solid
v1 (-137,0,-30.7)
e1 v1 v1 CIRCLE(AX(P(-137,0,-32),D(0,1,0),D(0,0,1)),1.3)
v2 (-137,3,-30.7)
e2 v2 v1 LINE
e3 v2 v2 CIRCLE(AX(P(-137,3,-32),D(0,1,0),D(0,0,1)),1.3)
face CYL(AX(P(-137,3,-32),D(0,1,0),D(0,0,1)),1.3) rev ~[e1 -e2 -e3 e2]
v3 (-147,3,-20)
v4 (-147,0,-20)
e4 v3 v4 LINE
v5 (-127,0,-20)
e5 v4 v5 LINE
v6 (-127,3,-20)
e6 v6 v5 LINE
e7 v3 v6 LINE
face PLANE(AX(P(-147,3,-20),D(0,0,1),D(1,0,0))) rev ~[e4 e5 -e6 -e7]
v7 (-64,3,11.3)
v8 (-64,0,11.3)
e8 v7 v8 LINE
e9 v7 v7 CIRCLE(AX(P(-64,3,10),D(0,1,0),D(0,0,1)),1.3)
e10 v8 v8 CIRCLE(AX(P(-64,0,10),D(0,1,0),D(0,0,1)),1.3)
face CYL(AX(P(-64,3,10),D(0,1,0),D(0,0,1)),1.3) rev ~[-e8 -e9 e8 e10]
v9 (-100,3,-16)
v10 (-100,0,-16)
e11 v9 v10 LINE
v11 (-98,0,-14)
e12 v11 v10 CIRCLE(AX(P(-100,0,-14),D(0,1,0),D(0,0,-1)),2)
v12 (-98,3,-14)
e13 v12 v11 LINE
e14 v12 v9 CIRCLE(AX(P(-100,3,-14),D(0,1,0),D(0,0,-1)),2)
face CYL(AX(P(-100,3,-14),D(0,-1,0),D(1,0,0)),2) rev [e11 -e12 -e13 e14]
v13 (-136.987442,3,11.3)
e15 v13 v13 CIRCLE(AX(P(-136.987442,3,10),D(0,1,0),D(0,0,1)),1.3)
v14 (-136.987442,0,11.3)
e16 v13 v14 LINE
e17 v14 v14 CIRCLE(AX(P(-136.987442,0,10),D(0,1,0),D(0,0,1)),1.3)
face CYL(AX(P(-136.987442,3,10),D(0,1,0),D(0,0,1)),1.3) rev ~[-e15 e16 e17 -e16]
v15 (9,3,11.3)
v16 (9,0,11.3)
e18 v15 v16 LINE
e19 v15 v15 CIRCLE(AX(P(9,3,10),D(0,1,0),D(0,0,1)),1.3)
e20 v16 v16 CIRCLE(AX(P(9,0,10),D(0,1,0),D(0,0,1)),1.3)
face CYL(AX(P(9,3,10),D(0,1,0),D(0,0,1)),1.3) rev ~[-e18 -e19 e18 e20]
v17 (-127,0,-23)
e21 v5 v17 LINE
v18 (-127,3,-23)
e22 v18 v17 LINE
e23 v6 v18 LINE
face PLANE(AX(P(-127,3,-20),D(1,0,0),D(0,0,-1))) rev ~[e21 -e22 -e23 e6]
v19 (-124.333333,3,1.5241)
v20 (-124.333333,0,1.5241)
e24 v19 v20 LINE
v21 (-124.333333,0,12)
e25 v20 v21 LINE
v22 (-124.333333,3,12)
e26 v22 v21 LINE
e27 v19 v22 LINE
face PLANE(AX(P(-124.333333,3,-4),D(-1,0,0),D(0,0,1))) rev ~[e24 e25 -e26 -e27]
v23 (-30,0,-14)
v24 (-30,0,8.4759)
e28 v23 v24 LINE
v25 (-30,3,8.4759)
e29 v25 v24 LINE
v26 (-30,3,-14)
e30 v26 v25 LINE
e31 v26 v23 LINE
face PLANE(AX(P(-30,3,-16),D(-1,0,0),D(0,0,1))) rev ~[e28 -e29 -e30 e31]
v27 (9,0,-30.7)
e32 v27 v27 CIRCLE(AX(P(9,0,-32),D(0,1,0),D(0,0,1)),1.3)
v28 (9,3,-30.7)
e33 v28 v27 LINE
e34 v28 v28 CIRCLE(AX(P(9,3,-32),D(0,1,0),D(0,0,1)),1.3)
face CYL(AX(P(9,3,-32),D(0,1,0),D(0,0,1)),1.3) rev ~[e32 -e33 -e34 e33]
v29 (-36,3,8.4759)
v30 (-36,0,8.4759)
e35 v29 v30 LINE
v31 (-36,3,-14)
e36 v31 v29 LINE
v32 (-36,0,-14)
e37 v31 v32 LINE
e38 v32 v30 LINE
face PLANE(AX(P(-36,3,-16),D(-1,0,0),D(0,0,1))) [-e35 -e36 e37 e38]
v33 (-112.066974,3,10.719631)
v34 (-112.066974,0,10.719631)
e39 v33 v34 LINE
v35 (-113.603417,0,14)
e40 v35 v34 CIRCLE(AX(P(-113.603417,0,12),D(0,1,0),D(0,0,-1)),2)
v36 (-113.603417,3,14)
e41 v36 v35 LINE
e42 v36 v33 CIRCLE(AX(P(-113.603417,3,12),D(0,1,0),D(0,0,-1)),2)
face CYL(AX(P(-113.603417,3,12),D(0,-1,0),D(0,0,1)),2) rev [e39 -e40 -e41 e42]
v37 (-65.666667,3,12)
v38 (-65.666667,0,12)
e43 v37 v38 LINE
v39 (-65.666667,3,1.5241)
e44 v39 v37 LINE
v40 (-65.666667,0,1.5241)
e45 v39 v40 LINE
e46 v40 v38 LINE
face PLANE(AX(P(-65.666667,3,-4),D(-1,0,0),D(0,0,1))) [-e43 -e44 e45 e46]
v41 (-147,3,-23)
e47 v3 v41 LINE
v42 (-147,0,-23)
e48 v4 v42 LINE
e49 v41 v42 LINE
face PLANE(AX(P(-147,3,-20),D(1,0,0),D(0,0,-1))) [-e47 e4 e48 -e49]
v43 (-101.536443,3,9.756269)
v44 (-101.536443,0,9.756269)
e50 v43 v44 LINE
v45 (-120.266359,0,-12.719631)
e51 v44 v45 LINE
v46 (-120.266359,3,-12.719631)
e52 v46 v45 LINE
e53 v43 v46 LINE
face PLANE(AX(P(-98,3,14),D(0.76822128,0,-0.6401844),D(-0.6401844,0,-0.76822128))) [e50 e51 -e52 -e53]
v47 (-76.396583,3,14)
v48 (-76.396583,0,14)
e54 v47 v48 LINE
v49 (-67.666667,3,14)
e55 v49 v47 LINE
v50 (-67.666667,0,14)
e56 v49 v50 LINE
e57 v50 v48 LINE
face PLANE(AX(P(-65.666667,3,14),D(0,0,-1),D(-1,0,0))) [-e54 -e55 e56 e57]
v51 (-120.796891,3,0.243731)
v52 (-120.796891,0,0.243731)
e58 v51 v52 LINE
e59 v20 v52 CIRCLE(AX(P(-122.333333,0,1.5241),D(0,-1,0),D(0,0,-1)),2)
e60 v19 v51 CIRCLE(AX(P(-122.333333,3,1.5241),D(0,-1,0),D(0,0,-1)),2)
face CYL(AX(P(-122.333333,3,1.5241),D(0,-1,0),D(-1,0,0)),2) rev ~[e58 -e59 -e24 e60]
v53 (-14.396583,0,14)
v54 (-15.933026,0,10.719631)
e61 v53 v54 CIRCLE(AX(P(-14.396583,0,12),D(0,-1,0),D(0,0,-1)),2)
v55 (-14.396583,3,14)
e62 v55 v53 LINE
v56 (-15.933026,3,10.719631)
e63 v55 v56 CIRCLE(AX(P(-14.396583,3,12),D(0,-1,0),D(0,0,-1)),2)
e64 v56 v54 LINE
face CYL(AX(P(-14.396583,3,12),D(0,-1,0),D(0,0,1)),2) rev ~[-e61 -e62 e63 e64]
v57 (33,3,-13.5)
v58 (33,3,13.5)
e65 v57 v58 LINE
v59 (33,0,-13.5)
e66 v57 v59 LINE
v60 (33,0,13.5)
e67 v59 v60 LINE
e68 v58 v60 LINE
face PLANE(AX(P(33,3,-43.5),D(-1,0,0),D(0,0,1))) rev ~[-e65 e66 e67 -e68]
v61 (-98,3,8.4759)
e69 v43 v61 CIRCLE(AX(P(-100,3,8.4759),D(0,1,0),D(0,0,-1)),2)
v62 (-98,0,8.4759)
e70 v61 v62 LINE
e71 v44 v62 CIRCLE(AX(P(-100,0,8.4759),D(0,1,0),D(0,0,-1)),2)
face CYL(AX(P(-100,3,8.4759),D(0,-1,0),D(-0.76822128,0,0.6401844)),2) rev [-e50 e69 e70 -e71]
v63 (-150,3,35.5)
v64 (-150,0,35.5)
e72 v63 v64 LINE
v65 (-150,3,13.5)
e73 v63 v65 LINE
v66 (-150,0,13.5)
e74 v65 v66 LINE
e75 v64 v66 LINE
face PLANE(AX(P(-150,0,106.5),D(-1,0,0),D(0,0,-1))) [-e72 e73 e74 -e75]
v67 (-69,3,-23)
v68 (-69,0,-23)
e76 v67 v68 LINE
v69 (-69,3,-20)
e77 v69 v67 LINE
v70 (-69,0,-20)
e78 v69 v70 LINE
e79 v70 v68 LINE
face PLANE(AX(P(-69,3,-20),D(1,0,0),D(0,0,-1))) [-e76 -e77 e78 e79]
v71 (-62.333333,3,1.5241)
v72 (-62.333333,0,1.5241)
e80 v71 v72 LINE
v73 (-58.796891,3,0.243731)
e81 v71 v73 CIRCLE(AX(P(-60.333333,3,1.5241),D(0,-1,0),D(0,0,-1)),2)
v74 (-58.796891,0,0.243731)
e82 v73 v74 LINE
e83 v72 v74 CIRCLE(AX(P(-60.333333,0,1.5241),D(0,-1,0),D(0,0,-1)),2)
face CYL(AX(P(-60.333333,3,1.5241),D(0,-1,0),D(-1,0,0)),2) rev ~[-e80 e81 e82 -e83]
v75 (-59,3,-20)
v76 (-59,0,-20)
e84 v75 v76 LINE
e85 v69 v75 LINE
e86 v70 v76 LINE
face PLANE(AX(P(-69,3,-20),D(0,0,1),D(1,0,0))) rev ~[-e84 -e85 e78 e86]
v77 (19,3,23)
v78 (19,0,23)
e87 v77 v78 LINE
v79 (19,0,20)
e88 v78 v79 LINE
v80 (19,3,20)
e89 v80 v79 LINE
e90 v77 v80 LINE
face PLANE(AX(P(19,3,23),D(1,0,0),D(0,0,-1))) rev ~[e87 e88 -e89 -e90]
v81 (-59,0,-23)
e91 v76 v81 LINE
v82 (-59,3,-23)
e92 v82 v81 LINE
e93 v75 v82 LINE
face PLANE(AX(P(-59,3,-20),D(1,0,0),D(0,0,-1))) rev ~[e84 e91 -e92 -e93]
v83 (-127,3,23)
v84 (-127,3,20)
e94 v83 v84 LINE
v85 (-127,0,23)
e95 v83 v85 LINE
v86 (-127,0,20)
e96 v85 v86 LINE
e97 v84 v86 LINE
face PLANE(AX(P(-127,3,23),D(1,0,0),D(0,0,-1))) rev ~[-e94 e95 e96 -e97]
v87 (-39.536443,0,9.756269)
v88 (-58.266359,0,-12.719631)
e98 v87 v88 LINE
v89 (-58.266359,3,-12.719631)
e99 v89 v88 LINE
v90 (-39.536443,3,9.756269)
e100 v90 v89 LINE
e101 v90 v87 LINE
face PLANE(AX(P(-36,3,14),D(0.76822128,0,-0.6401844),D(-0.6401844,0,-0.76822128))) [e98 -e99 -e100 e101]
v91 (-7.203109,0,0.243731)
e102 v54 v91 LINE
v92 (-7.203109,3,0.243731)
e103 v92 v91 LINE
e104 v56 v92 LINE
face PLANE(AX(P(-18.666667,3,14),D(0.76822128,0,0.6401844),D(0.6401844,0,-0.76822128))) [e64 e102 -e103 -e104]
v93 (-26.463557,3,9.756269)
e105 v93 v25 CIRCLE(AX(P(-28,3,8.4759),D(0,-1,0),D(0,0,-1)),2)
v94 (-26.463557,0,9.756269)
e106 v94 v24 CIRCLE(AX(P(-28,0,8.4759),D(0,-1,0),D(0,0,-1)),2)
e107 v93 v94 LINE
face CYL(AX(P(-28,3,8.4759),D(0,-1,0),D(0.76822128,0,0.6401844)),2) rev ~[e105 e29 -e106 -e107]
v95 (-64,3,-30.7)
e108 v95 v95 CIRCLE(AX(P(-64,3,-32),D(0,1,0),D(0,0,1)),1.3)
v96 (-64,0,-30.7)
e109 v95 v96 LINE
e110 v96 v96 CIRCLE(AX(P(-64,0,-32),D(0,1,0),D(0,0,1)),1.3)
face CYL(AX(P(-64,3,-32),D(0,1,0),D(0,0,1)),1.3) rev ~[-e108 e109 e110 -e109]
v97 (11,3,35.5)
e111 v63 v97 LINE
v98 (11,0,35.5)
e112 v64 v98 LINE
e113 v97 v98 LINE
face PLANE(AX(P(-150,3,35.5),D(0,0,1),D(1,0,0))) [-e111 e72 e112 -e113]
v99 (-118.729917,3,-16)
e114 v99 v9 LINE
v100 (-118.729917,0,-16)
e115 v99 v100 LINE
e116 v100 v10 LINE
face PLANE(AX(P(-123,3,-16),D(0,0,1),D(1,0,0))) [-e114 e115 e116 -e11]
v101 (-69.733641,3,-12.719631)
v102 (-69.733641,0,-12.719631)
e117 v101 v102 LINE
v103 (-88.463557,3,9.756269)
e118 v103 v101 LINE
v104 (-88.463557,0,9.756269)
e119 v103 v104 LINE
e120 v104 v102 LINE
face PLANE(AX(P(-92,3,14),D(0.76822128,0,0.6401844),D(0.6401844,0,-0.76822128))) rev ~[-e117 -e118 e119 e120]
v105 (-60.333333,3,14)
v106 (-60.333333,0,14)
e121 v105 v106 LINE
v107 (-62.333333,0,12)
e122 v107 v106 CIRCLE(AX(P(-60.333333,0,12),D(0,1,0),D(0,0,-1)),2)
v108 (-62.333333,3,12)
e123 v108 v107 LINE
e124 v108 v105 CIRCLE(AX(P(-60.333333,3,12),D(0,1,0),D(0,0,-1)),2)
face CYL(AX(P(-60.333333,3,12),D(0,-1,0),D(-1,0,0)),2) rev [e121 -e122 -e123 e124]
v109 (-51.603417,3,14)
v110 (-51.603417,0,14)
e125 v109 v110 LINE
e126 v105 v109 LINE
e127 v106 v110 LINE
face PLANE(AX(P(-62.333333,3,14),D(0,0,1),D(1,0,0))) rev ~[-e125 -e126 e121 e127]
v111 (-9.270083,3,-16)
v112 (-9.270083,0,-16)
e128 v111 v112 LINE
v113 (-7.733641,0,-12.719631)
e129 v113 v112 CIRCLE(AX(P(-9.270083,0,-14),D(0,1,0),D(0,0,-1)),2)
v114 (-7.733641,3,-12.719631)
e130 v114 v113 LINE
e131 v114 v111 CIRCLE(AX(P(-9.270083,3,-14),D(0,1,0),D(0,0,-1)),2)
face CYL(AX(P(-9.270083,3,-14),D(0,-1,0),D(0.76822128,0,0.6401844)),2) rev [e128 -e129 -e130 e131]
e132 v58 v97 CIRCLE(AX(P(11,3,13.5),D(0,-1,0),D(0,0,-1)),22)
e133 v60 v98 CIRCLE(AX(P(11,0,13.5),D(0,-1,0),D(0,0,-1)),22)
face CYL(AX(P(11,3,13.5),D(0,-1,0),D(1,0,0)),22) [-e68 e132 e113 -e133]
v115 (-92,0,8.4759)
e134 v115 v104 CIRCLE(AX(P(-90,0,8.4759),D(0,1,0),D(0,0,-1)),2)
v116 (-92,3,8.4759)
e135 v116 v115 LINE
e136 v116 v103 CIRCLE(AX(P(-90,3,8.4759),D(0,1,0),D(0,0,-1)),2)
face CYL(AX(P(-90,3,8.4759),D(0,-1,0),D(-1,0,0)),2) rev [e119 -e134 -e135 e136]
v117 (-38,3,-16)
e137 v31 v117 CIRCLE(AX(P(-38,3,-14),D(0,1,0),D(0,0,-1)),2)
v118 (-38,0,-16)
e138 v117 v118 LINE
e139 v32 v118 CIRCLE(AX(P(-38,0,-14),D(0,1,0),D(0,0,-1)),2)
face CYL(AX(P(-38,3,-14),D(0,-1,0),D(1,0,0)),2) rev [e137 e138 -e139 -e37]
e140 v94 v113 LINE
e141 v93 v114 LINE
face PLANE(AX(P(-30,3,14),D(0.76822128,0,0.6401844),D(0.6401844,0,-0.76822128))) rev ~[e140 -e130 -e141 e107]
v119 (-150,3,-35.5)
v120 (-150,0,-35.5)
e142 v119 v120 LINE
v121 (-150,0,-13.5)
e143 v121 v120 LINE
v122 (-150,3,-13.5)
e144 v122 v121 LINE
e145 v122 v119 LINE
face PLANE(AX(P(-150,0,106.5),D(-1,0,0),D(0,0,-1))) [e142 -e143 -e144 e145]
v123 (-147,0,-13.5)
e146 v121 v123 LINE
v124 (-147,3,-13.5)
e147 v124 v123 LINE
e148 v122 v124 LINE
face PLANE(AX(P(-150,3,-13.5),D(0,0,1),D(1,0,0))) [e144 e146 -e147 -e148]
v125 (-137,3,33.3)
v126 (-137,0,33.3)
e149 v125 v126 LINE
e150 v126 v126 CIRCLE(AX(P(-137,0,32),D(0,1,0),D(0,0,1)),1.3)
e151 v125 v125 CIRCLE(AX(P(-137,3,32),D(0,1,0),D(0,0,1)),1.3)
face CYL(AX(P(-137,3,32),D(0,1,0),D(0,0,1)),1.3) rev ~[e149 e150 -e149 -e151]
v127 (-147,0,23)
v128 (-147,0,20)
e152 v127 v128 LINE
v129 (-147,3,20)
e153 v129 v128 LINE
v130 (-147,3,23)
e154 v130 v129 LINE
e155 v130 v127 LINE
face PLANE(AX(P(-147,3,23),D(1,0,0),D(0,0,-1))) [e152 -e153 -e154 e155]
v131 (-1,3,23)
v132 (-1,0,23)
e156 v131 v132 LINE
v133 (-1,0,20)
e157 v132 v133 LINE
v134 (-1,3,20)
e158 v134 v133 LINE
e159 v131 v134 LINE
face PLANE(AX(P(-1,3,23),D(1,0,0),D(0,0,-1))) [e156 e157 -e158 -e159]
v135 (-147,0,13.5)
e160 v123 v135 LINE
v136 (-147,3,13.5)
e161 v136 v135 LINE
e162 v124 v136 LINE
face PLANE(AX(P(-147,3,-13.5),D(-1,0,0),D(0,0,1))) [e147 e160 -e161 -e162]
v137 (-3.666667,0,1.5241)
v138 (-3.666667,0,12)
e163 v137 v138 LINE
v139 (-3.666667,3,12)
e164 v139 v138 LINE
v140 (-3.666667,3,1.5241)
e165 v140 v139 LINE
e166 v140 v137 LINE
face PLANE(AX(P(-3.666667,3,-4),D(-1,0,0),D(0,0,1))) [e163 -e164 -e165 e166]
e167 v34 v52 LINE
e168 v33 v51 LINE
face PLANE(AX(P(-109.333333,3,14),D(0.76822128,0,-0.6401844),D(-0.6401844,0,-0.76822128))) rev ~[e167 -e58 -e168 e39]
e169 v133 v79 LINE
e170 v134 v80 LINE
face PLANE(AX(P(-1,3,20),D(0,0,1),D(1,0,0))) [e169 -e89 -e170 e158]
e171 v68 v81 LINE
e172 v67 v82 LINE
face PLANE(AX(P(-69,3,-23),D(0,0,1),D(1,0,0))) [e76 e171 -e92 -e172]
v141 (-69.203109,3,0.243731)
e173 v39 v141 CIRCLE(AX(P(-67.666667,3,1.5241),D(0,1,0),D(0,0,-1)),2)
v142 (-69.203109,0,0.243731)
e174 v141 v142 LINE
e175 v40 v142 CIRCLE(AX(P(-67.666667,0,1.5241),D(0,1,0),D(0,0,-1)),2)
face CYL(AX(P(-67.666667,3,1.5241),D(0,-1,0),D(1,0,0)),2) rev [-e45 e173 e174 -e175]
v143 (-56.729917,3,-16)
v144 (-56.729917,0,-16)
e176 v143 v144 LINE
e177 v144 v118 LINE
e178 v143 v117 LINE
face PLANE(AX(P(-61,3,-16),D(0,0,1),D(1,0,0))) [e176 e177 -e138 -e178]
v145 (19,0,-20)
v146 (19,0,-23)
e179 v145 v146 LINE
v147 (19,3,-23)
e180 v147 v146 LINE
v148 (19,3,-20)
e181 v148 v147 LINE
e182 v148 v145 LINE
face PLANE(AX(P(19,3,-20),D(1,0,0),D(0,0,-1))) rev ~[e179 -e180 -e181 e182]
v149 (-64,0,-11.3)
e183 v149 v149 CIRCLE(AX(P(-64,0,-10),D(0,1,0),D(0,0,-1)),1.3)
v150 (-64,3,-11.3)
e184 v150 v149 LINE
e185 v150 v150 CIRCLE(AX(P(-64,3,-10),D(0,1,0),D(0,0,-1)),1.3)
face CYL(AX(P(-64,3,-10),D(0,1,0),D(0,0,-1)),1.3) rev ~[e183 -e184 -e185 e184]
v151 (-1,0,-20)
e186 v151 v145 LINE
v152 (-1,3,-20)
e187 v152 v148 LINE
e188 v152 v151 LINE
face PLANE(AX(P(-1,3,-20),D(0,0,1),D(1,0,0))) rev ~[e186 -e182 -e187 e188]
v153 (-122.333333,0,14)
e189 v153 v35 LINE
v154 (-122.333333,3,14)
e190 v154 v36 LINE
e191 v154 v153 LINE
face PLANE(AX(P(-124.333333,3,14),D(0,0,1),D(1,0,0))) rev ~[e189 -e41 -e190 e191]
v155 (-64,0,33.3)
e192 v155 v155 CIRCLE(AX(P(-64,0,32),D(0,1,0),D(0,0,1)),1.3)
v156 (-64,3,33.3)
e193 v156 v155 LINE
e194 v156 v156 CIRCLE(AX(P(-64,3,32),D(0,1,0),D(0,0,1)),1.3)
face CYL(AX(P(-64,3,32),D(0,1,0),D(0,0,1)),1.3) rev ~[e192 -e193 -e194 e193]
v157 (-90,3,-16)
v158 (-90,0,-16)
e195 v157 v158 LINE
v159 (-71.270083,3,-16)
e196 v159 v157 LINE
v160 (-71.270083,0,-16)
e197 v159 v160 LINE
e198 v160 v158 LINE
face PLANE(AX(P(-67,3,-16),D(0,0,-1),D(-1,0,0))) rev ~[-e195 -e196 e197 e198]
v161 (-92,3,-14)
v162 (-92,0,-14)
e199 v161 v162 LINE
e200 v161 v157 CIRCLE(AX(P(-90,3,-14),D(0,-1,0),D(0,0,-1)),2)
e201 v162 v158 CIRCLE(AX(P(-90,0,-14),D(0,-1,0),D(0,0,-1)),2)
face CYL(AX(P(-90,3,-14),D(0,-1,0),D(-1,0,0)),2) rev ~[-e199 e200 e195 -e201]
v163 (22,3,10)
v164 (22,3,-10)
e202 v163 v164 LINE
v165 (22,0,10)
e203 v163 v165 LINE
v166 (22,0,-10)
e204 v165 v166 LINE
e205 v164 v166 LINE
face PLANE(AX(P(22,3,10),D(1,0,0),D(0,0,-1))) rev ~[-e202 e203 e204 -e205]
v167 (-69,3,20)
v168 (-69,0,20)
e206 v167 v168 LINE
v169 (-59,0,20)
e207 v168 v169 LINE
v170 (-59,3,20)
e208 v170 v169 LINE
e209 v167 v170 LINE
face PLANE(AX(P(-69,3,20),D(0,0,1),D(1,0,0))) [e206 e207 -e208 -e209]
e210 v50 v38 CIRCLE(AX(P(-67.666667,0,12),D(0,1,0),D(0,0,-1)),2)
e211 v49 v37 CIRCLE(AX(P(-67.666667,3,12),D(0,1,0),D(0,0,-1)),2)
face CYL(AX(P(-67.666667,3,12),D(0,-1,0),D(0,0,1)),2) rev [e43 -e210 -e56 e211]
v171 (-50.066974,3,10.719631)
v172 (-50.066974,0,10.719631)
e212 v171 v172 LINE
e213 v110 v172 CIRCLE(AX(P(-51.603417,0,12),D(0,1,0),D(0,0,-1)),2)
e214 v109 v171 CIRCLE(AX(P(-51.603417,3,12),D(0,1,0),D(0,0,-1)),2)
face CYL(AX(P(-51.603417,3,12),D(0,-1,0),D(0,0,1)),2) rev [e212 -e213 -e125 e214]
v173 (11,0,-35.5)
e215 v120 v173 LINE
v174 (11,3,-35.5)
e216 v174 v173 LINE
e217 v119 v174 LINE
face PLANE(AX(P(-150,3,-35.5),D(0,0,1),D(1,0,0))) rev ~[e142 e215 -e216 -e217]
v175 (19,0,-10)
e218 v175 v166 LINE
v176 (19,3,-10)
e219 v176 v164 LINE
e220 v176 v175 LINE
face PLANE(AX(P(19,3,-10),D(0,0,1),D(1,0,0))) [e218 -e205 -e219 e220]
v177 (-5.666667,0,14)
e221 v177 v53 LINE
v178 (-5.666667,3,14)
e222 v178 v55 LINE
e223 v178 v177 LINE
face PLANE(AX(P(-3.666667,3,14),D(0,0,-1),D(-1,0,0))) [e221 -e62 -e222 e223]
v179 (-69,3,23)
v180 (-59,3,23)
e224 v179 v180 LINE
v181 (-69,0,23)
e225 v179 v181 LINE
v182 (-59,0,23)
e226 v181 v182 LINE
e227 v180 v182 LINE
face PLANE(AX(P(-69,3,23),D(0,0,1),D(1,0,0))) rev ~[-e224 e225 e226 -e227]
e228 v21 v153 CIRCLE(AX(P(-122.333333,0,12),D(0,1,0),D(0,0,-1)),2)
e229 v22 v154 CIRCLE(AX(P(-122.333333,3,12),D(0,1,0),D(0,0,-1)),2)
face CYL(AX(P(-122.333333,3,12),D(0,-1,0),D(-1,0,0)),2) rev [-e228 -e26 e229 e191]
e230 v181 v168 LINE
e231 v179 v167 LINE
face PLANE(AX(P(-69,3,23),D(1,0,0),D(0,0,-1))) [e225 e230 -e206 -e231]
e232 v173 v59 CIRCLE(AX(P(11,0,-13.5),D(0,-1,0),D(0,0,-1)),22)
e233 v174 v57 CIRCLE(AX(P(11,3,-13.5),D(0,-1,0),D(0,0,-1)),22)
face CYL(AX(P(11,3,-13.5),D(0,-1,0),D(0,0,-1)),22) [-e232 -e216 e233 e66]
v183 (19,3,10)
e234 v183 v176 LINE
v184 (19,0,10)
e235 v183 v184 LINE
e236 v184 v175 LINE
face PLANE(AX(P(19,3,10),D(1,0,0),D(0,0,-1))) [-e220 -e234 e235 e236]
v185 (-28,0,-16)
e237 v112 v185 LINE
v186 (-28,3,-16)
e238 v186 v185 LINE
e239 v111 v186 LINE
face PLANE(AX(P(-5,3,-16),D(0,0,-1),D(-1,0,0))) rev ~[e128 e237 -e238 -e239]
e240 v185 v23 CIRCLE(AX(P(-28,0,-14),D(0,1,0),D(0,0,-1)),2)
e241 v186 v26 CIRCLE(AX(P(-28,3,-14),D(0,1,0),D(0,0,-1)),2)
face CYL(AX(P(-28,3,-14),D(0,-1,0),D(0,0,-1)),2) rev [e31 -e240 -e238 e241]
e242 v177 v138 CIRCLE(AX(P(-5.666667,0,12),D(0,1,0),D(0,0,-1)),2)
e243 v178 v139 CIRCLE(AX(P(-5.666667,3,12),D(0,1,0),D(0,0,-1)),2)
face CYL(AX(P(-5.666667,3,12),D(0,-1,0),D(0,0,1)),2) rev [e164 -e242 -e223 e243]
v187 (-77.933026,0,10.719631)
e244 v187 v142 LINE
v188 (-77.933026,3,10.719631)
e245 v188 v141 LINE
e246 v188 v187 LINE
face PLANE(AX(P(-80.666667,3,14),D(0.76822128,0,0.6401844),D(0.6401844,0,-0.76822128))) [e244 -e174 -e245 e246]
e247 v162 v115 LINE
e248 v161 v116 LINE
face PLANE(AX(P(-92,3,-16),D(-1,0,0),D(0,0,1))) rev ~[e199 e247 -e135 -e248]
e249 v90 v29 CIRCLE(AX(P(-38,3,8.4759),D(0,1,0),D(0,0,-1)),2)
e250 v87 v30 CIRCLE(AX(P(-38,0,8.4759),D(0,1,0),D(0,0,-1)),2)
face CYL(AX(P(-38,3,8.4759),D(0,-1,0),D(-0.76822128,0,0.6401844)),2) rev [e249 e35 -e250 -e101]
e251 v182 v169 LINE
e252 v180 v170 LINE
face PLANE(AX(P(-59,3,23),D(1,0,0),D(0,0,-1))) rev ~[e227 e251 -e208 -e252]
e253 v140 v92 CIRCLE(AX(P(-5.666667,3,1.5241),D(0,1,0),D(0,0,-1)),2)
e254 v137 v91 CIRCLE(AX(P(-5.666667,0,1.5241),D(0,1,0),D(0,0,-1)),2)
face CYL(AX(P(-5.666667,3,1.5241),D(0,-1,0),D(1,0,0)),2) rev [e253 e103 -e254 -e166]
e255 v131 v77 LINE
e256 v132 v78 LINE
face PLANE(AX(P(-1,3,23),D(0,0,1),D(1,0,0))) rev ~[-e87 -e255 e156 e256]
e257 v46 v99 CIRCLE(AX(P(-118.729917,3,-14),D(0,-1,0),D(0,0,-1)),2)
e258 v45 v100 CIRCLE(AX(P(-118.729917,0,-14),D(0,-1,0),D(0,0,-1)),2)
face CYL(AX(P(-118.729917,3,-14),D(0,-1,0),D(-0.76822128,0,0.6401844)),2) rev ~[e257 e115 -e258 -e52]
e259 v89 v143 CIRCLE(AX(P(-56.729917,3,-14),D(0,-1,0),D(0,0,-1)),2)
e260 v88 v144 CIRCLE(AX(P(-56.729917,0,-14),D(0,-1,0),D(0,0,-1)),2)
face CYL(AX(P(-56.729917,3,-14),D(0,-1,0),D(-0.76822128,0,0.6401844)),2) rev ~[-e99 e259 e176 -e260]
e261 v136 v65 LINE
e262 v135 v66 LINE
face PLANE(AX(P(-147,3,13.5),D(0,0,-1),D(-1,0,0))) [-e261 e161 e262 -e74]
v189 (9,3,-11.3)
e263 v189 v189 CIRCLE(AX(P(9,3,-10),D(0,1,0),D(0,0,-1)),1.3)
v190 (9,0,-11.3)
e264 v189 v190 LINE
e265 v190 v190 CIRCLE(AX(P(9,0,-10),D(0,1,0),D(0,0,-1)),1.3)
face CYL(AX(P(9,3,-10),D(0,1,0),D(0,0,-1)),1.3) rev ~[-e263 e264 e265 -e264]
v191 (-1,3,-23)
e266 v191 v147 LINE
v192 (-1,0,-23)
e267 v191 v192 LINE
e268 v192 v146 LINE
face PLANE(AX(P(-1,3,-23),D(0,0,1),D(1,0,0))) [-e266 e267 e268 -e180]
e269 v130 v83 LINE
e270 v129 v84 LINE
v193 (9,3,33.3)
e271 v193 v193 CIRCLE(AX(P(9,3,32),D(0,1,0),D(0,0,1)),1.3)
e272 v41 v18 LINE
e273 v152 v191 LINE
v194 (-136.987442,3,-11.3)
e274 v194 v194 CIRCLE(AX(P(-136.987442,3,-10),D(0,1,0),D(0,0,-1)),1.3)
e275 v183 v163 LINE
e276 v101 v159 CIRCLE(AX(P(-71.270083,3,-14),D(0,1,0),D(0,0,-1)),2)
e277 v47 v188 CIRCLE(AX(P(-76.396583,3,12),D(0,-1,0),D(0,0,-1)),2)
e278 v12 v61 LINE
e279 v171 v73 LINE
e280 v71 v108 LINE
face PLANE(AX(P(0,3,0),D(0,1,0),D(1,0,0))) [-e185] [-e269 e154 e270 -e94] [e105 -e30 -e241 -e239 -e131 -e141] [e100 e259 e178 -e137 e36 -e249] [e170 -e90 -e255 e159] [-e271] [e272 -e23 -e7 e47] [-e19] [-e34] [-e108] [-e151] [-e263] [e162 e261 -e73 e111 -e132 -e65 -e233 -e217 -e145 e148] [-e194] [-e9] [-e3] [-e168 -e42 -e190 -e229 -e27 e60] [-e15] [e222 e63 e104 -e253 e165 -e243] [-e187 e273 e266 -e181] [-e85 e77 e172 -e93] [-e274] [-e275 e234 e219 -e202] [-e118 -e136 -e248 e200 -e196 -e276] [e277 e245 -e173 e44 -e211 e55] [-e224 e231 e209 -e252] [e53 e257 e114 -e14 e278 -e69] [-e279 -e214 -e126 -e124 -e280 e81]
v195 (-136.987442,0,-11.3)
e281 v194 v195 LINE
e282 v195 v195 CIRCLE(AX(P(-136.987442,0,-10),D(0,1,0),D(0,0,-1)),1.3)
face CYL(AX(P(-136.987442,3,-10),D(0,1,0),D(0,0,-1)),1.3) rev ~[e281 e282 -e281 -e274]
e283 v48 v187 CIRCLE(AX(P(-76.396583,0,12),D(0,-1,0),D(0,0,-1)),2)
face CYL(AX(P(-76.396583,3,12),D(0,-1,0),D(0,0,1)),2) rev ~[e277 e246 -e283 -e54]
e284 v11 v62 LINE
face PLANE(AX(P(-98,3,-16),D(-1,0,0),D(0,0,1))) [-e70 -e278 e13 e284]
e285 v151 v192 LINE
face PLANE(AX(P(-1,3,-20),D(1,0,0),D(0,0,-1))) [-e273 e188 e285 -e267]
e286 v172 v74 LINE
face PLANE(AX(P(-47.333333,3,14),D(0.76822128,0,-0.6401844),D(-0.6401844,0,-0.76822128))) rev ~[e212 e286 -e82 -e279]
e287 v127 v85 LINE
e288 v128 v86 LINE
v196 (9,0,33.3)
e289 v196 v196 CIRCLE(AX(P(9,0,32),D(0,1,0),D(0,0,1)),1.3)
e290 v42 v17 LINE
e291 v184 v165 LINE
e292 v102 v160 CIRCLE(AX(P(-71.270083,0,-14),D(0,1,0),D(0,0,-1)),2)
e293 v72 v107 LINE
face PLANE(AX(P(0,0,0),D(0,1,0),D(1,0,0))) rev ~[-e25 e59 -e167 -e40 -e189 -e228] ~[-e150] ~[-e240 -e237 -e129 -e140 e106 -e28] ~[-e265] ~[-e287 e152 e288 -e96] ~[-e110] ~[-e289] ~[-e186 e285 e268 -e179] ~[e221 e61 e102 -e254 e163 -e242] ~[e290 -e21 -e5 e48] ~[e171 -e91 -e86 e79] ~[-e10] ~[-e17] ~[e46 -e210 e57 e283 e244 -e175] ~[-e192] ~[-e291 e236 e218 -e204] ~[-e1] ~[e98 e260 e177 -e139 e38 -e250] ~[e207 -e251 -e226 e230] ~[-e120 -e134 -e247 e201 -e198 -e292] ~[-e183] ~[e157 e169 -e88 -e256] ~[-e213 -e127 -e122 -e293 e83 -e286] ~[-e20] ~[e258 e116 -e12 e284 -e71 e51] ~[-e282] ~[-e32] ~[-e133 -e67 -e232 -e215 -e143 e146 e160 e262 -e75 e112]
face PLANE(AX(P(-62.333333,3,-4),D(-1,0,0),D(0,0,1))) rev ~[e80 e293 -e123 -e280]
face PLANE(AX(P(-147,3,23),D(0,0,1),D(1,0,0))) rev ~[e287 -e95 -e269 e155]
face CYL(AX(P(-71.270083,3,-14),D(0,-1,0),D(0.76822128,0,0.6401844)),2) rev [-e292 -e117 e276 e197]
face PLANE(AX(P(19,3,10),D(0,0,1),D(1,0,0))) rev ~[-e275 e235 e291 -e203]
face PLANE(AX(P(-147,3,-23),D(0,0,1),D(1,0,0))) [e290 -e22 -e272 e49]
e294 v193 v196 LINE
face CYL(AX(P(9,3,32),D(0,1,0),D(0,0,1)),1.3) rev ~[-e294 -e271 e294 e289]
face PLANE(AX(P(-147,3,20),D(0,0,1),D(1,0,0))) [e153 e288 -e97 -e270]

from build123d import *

# Parameters (mm, degrees)
SKETCH1_W            = 300
SKETCH1_H            = 213
BOSS_EXTRUDE1_DEPTH  = 3
SKETCH2_W            = 3
SKETCH2_H            = 21
CUT_EXTRUDE1_DEPTH   = 184.987091939
SKETCH3_W            = 20
SKETCH3_H            = 3
SKETCH3_W_2          = 10
CUT_EXTRUDE2_DEPTH   = 184.987091939
SKETCH4_W            = 3
SKETCH4_H            = 20
CUT_EXTRUDE3_DEPTH   = 184.987091939
SKETCH6_R            = 1.3
CUT_EXTRUDE4_DEPTH   = 184.987091939
CUT_EXTRUDE5_DEPTH   = 184.987091939
FILLET1_R            = 4
FILLET1_OF_MIRROR1_R = 4
SKETCH8_R            = 1.3
CUT_EXTRUDE6_DEPTH   = 184.987091939
CUT_EXTRUDE7_DEPTH   = 184.987091939
CUT_EXTRUDE8_DEPTH   = 157.208994619
FILLET2_R            = 2
SKETCH11_W           = 183
SKETCH11_H           = 8
CUT_EXTRUDE9_DEPTH   = 157.208994619
FILLET3_R            = 22


with BuildPart() as part:
    # Sketch1 → Boss-Extrude1 (new body)
    with BuildSketch(Plane(origin=(0, 0, 0), x_dir=(1, 0, 0), z_dir=(0, 1, 0))):
        Rectangle(SKETCH1_W, SKETCH1_H)
    extrude(amount=BOSS_EXTRUDE1_DEPTH)

    # Sketch2 → Cut-Extrude1 (cut, through all)
    with BuildSketch(Plane(origin=(0, 3, 0), x_dir=(1, 0, 0), z_dir=(0, 1, 0))):
        with Locations((-148.5, 96)):
            Rectangle(SKETCH2_W, SKETCH2_H)
        Polygon((-150, -13.5), (-150, 0), (-150, 13.5), (-147, 13.5), (-147, -13.5), align=None)
        with Locations((-148.5, 54)):
            Rectangle(SKETCH2_W, SKETCH2_H)
        with Locations((-148.5, -54)):
            Rectangle(SKETCH2_W, SKETCH2_H)
        with Locations((-148.5, -96)):
            Rectangle(SKETCH2_W, SKETCH2_H)
    extrude(amount=-CUT_EXTRUDE1_DEPTH, mode=Mode.SUBTRACT)

    # Sketch3 → Cut-Extrude2 (cut, through all)
    with BuildSketch(Plane(origin=(0, 3, 0), x_dir=(1, 0, 0), z_dir=(0, 1, 0))):
        with Locations((-137, 21.5)):
            Rectangle(SKETCH3_W, SKETCH3_H)
        with Locations((-64, 21.5)):
            Rectangle(SKETCH3_W_2, SKETCH3_H)
        with Locations((9, 21.5)):
            Rectangle(SKETCH3_W, SKETCH3_H)
        with Locations((9, -21.5)):
            Rectangle(SKETCH3_W, SKETCH3_H)
        with Locations((-64, -21.5)):
            Rectangle(SKETCH3_W_2, SKETCH3_H)
        with Locations((-137, -21.5)):
            Rectangle(SKETCH3_W, SKETCH3_H)
    extrude(amount=-CUT_EXTRUDE2_DEPTH, mode=Mode.SUBTRACT)

    # Sketch4 → Cut-Extrude3 (cut, through all)
    with BuildSketch(Plane(origin=(0, 3, 0), x_dir=(1, 0, 0), z_dir=(0, 1, 0))):
        with Locations((20.5, 0)):
            Rectangle(SKETCH4_W, SKETCH4_H)
    extrude(amount=-CUT_EXTRUDE3_DEPTH, mode=Mode.SUBTRACT)

    # Sketch6 → Cut-Extrude4 (cut, through all)
    with BuildSketch(Plane(origin=(0, 3, 0), x_dir=(1, 0, 0), z_dir=(0, 1, 0))):
        with Locations(Location((-137, 32, 0), (0, 0, 270))):
            Circle(SKETCH6_R)
        with Locations(Location((-64, 32, 0), (0, 0, 270))):
            Circle(SKETCH6_R)
        with Locations(Location((9, 32, 0), (0, 0, 270))):
            Circle(SKETCH6_R)
        with Locations(Location((9, -32, 0), (0, 0, 270))):
            Circle(SKETCH6_R)
        with Locations(Location((-64, -32, 0), (0, 0, 270))):
            Circle(SKETCH6_R)
        with Locations(Location((-137, -32, 0), (0, 0, 270))):
            Circle(SKETCH6_R)
    extrude(amount=-CUT_EXTRUDE4_DEPTH, mode=Mode.SUBTRACT)

    # Sketch7 → Cut-Extrude5 (cut, through all)
    with BuildSketch(Plane(origin=(0, 3, 0), x_dir=(1, 0, 0), z_dir=(0, 1, 0))):
        Polygon((-115, 90), (-115, 60), (-85, 60), align=None)
        Polygon((-108, 90), (-78, 60), (-78, 90), align=None)
        Polygon((-64, 90), (-34, 90), (-64, 60), align=None)
        Polygon((-27, 60), (-57, 60), (-27, 90), align=None)
        Polygon((-15, 90), (-15, 60), (15, 60), align=None)
        Polygon((-8, 90), (22, 60), (22, 90), align=None)
        Polygon((36, 90), (66, 90), (36, 60), align=None)
        Polygon((73, 60), (43, 60), (73, 90), align=None)
        Polygon((85, 90), (85, 60), (115, 60), align=None)
        Polygon((92, 90), (122, 60), (122, 90), align=None)
    cut_extrude5 = extrude(amount=-CUT_EXTRUDE5_DEPTH, mode=Mode.SUBTRACT)

    # Fillet1
    fillet1_edges = [part.edges().sort_by_distance(p)[0] for p in [
        (-115, 1.5, -90),
        (-85, 1.5, -60),
        (-115, 1.5, -60),
        (-8, 1.5, -90),
        (22, 1.5, -90),
        (22, 1.5, -60),
        (36, 1.5, -60),
        (36, 1.5, -90),
        (66, 1.5, -90),
        (73, 1.5, -90),
        (73, 1.5, -60),
        (43, 1.5, -60),
        (92, 1.5, -90),
        (122, 1.5, -90),
        (122, 1.5, -60),
        (85, 1.5, -90),
        (115, 1.5, -60),
        (85, 1.5, -60),
        (-108, 1.5, -90),
        (-78, 1.5, -90),
        (-78, 1.5, -60),
        (-64, 1.5, -60),
        (-64, 1.5, -90),
        (-34, 1.5, -90),
        (-27, 1.5, -90),
        (-27, 1.5, -60),
        (-57, 1.5, -60),
        (-15, 1.5, -90),
        (15, 1.5, -60),
        (-15, 1.5, -60),
    ]]
    fillet(fillet1_edges, radius=FILLET1_R)

    # Mirror1: Cut-Extrude5 across plane
    add(cut_extrude5.mirror(Plane.XY), mode=Mode.SUBTRACT)

    # Fillet1 of Mirror1
    fillet1_of_mirror1_edges = [part.edges().sort_by_distance(p)[0] for p in [
        (-115, 1.5, 90),
        (-85, 1.5, 60),
        (-115, 1.5, 60),
        (-8, 1.5, 90),
        (22, 1.5, 90),
        (22, 1.5, 60),
        (36, 1.5, 60),
        (36, 1.5, 90),
        (66, 1.5, 90),
        (73, 1.5, 90),
        (73, 1.5, 60),
        (43, 1.5, 60),
        (92, 1.5, 90),
        (122, 1.5, 90),
        (122, 1.5, 60),
        (85, 1.5, 90),
        (115, 1.5, 60),
        (85, 1.5, 60),
        (-108, 1.5, 90),
        (-78, 1.5, 90),
        (-78, 1.5, 60),
        (-64, 1.5, 60),
        (-64, 1.5, 90),
        (-34, 1.5, 90),
        (-27, 1.5, 90),
        (-27, 1.5, 60),
        (-57, 1.5, 60),
        (-15, 1.5, 90),
        (15, 1.5, 60),
        (-15, 1.5, 60),
    ]]
    fillet(fillet1_of_mirror1_edges, radius=FILLET1_OF_MIRROR1_R)

    # Sketch8 → Cut-Extrude6 (cut, through all)
    with BuildSketch(Plane(origin=(0, 3, 0), x_dir=(1, 0, 0), z_dir=(0, 1, 0))):
        with Locations(Location((-136.98744233, -10, 0), (0, 0, 270))):
            Circle(SKETCH8_R)
        with Locations(Location((-64, -10, 0), (0, 0, 270))):
            Circle(SKETCH8_R)
        with Locations(Location((9, -10, 0), (0, 0, 270))):
            Circle(SKETCH8_R)
        with Locations(Location((-136.98744233, 10, 0), (0, 0, 90))):
            Circle(SKETCH8_R)
        with Locations(Location((-64, 10, 0), (0, 0, 90))):
            Circle(SKETCH8_R)
        with Locations(Location((9, 10, 0), (0, 0, 90))):
            Circle(SKETCH8_R)
    extrude(amount=-CUT_EXTRUDE6_DEPTH, mode=Mode.SUBTRACT)

    # Sketch9 → Cut-Extrude7 (cut, through all)
    with BuildSketch(Plane(origin=(0, 3, 0), x_dir=(1, 0, 0), z_dir=(0, 1, 0))):
        Polygon((-147, 43.5), (33, 43.5), (33, -43.5), (-147, -43.5), (-187.25008624, -43.5), (-187.25008624, -148.565138747), (177.736932827, -148.565138747), (177.736932827, 142.910410283), (-187.25008624, 142.910410283), (-187.25008624, 43.5), align=None)
    extrude(amount=-CUT_EXTRUDE7_DEPTH, mode=Mode.SUBTRACT)

    # Sketch10 → Cut-Extrude8 (cut, through all)
    with BuildSketch(Plane(origin=(0, 3, 0), x_dir=(1, 0, 0), z_dir=(0, 1, 0))):
        Polygon((-123, 16), (-98, 16), (-98, -14), align=None)
        Polygon((-92, 16), (-92, -14), (-67, 16), align=None)
        Polygon((-124.333333333, 4), (-124.333333333, -14), (-109.333333333, -14), align=None)
        Polygon((-80.666666667, -14), (-65.666666667, 4), (-65.666666667, -14), align=None)
        Polygon((-62.333333333, 4), (-62.333333333, -14), (-47.333333333, -14), align=None)
        Polygon((-18.666666667, -14), (-3.666666667, 4), (-3.666666667, -14), align=None)
        Polygon((-61, 16), (-36, 16), (-36, -14), align=None)
        Polygon((-30, -14), (-5, 16), (-30, 16), align=None)
    extrude(amount=-CUT_EXTRUDE8_DEPTH, mode=Mode.SUBTRACT)

    # Fillet2
    fillet2_edges = [part.edges().sort_by_distance(p)[0] for p in [
        (-98, 1.5, 14),
        (-123, 1.5, -16),
        (-98, 1.5, -16),
        (-65.666666667, 1.5, 14),
        (-80.666666667, 1.5, 14),
        (-65.666666667, 1.5, -4),
        (-124.333333333, 1.5, -4),
        (-109.333333333, 1.5, 14),
        (-124.333333333, 1.5, 14),
        (-92, 1.5, -16),
        (-67, 1.5, -16),
        (-92, 1.5, 14),
        (-30, 1.5, 14),
        (-30, 1.5, -16),
        (-5, 1.5, -16),
        (-36, 1.5, 14),
        (-61, 1.5, -16),
        (-36, 1.5, -16),
        (-3.666666667, 1.5, 14),
        (-18.666666667, 1.5, 14),
        (-3.666666667, 1.5, -4),
        (-62.333333333, 1.5, -4),
        (-47.333333333, 1.5, 14),
        (-62.333333333, 1.5, 14),
    ]]
    fillet(fillet2_edges, radius=FILLET2_R)

    # Sketch11 → Cut-Extrude9 (cut, through all)
    with BuildSketch(Plane(origin=(0, 3, 0), x_dir=(1, 0, 0), z_dir=(0, 1, 0))):
        with Locations((-58.5, 39.5)):
            Rectangle(SKETCH11_W, SKETCH11_H)
        with Locations((-58.5, -39.5)):
            Rectangle(SKETCH11_W, SKETCH11_H)
    extrude(amount=-CUT_EXTRUDE9_DEPTH, mode=Mode.SUBTRACT)

    # Fillet3
    fillet3_edges = [part.edges().sort_by_distance(p)[0] for p in [
        (33, 1.5, -35.5),
        (33, 1.5, 35.5),
    ]]
    fillet(fillet3_edges, radius=FILLET3_R)


solid = part.part
